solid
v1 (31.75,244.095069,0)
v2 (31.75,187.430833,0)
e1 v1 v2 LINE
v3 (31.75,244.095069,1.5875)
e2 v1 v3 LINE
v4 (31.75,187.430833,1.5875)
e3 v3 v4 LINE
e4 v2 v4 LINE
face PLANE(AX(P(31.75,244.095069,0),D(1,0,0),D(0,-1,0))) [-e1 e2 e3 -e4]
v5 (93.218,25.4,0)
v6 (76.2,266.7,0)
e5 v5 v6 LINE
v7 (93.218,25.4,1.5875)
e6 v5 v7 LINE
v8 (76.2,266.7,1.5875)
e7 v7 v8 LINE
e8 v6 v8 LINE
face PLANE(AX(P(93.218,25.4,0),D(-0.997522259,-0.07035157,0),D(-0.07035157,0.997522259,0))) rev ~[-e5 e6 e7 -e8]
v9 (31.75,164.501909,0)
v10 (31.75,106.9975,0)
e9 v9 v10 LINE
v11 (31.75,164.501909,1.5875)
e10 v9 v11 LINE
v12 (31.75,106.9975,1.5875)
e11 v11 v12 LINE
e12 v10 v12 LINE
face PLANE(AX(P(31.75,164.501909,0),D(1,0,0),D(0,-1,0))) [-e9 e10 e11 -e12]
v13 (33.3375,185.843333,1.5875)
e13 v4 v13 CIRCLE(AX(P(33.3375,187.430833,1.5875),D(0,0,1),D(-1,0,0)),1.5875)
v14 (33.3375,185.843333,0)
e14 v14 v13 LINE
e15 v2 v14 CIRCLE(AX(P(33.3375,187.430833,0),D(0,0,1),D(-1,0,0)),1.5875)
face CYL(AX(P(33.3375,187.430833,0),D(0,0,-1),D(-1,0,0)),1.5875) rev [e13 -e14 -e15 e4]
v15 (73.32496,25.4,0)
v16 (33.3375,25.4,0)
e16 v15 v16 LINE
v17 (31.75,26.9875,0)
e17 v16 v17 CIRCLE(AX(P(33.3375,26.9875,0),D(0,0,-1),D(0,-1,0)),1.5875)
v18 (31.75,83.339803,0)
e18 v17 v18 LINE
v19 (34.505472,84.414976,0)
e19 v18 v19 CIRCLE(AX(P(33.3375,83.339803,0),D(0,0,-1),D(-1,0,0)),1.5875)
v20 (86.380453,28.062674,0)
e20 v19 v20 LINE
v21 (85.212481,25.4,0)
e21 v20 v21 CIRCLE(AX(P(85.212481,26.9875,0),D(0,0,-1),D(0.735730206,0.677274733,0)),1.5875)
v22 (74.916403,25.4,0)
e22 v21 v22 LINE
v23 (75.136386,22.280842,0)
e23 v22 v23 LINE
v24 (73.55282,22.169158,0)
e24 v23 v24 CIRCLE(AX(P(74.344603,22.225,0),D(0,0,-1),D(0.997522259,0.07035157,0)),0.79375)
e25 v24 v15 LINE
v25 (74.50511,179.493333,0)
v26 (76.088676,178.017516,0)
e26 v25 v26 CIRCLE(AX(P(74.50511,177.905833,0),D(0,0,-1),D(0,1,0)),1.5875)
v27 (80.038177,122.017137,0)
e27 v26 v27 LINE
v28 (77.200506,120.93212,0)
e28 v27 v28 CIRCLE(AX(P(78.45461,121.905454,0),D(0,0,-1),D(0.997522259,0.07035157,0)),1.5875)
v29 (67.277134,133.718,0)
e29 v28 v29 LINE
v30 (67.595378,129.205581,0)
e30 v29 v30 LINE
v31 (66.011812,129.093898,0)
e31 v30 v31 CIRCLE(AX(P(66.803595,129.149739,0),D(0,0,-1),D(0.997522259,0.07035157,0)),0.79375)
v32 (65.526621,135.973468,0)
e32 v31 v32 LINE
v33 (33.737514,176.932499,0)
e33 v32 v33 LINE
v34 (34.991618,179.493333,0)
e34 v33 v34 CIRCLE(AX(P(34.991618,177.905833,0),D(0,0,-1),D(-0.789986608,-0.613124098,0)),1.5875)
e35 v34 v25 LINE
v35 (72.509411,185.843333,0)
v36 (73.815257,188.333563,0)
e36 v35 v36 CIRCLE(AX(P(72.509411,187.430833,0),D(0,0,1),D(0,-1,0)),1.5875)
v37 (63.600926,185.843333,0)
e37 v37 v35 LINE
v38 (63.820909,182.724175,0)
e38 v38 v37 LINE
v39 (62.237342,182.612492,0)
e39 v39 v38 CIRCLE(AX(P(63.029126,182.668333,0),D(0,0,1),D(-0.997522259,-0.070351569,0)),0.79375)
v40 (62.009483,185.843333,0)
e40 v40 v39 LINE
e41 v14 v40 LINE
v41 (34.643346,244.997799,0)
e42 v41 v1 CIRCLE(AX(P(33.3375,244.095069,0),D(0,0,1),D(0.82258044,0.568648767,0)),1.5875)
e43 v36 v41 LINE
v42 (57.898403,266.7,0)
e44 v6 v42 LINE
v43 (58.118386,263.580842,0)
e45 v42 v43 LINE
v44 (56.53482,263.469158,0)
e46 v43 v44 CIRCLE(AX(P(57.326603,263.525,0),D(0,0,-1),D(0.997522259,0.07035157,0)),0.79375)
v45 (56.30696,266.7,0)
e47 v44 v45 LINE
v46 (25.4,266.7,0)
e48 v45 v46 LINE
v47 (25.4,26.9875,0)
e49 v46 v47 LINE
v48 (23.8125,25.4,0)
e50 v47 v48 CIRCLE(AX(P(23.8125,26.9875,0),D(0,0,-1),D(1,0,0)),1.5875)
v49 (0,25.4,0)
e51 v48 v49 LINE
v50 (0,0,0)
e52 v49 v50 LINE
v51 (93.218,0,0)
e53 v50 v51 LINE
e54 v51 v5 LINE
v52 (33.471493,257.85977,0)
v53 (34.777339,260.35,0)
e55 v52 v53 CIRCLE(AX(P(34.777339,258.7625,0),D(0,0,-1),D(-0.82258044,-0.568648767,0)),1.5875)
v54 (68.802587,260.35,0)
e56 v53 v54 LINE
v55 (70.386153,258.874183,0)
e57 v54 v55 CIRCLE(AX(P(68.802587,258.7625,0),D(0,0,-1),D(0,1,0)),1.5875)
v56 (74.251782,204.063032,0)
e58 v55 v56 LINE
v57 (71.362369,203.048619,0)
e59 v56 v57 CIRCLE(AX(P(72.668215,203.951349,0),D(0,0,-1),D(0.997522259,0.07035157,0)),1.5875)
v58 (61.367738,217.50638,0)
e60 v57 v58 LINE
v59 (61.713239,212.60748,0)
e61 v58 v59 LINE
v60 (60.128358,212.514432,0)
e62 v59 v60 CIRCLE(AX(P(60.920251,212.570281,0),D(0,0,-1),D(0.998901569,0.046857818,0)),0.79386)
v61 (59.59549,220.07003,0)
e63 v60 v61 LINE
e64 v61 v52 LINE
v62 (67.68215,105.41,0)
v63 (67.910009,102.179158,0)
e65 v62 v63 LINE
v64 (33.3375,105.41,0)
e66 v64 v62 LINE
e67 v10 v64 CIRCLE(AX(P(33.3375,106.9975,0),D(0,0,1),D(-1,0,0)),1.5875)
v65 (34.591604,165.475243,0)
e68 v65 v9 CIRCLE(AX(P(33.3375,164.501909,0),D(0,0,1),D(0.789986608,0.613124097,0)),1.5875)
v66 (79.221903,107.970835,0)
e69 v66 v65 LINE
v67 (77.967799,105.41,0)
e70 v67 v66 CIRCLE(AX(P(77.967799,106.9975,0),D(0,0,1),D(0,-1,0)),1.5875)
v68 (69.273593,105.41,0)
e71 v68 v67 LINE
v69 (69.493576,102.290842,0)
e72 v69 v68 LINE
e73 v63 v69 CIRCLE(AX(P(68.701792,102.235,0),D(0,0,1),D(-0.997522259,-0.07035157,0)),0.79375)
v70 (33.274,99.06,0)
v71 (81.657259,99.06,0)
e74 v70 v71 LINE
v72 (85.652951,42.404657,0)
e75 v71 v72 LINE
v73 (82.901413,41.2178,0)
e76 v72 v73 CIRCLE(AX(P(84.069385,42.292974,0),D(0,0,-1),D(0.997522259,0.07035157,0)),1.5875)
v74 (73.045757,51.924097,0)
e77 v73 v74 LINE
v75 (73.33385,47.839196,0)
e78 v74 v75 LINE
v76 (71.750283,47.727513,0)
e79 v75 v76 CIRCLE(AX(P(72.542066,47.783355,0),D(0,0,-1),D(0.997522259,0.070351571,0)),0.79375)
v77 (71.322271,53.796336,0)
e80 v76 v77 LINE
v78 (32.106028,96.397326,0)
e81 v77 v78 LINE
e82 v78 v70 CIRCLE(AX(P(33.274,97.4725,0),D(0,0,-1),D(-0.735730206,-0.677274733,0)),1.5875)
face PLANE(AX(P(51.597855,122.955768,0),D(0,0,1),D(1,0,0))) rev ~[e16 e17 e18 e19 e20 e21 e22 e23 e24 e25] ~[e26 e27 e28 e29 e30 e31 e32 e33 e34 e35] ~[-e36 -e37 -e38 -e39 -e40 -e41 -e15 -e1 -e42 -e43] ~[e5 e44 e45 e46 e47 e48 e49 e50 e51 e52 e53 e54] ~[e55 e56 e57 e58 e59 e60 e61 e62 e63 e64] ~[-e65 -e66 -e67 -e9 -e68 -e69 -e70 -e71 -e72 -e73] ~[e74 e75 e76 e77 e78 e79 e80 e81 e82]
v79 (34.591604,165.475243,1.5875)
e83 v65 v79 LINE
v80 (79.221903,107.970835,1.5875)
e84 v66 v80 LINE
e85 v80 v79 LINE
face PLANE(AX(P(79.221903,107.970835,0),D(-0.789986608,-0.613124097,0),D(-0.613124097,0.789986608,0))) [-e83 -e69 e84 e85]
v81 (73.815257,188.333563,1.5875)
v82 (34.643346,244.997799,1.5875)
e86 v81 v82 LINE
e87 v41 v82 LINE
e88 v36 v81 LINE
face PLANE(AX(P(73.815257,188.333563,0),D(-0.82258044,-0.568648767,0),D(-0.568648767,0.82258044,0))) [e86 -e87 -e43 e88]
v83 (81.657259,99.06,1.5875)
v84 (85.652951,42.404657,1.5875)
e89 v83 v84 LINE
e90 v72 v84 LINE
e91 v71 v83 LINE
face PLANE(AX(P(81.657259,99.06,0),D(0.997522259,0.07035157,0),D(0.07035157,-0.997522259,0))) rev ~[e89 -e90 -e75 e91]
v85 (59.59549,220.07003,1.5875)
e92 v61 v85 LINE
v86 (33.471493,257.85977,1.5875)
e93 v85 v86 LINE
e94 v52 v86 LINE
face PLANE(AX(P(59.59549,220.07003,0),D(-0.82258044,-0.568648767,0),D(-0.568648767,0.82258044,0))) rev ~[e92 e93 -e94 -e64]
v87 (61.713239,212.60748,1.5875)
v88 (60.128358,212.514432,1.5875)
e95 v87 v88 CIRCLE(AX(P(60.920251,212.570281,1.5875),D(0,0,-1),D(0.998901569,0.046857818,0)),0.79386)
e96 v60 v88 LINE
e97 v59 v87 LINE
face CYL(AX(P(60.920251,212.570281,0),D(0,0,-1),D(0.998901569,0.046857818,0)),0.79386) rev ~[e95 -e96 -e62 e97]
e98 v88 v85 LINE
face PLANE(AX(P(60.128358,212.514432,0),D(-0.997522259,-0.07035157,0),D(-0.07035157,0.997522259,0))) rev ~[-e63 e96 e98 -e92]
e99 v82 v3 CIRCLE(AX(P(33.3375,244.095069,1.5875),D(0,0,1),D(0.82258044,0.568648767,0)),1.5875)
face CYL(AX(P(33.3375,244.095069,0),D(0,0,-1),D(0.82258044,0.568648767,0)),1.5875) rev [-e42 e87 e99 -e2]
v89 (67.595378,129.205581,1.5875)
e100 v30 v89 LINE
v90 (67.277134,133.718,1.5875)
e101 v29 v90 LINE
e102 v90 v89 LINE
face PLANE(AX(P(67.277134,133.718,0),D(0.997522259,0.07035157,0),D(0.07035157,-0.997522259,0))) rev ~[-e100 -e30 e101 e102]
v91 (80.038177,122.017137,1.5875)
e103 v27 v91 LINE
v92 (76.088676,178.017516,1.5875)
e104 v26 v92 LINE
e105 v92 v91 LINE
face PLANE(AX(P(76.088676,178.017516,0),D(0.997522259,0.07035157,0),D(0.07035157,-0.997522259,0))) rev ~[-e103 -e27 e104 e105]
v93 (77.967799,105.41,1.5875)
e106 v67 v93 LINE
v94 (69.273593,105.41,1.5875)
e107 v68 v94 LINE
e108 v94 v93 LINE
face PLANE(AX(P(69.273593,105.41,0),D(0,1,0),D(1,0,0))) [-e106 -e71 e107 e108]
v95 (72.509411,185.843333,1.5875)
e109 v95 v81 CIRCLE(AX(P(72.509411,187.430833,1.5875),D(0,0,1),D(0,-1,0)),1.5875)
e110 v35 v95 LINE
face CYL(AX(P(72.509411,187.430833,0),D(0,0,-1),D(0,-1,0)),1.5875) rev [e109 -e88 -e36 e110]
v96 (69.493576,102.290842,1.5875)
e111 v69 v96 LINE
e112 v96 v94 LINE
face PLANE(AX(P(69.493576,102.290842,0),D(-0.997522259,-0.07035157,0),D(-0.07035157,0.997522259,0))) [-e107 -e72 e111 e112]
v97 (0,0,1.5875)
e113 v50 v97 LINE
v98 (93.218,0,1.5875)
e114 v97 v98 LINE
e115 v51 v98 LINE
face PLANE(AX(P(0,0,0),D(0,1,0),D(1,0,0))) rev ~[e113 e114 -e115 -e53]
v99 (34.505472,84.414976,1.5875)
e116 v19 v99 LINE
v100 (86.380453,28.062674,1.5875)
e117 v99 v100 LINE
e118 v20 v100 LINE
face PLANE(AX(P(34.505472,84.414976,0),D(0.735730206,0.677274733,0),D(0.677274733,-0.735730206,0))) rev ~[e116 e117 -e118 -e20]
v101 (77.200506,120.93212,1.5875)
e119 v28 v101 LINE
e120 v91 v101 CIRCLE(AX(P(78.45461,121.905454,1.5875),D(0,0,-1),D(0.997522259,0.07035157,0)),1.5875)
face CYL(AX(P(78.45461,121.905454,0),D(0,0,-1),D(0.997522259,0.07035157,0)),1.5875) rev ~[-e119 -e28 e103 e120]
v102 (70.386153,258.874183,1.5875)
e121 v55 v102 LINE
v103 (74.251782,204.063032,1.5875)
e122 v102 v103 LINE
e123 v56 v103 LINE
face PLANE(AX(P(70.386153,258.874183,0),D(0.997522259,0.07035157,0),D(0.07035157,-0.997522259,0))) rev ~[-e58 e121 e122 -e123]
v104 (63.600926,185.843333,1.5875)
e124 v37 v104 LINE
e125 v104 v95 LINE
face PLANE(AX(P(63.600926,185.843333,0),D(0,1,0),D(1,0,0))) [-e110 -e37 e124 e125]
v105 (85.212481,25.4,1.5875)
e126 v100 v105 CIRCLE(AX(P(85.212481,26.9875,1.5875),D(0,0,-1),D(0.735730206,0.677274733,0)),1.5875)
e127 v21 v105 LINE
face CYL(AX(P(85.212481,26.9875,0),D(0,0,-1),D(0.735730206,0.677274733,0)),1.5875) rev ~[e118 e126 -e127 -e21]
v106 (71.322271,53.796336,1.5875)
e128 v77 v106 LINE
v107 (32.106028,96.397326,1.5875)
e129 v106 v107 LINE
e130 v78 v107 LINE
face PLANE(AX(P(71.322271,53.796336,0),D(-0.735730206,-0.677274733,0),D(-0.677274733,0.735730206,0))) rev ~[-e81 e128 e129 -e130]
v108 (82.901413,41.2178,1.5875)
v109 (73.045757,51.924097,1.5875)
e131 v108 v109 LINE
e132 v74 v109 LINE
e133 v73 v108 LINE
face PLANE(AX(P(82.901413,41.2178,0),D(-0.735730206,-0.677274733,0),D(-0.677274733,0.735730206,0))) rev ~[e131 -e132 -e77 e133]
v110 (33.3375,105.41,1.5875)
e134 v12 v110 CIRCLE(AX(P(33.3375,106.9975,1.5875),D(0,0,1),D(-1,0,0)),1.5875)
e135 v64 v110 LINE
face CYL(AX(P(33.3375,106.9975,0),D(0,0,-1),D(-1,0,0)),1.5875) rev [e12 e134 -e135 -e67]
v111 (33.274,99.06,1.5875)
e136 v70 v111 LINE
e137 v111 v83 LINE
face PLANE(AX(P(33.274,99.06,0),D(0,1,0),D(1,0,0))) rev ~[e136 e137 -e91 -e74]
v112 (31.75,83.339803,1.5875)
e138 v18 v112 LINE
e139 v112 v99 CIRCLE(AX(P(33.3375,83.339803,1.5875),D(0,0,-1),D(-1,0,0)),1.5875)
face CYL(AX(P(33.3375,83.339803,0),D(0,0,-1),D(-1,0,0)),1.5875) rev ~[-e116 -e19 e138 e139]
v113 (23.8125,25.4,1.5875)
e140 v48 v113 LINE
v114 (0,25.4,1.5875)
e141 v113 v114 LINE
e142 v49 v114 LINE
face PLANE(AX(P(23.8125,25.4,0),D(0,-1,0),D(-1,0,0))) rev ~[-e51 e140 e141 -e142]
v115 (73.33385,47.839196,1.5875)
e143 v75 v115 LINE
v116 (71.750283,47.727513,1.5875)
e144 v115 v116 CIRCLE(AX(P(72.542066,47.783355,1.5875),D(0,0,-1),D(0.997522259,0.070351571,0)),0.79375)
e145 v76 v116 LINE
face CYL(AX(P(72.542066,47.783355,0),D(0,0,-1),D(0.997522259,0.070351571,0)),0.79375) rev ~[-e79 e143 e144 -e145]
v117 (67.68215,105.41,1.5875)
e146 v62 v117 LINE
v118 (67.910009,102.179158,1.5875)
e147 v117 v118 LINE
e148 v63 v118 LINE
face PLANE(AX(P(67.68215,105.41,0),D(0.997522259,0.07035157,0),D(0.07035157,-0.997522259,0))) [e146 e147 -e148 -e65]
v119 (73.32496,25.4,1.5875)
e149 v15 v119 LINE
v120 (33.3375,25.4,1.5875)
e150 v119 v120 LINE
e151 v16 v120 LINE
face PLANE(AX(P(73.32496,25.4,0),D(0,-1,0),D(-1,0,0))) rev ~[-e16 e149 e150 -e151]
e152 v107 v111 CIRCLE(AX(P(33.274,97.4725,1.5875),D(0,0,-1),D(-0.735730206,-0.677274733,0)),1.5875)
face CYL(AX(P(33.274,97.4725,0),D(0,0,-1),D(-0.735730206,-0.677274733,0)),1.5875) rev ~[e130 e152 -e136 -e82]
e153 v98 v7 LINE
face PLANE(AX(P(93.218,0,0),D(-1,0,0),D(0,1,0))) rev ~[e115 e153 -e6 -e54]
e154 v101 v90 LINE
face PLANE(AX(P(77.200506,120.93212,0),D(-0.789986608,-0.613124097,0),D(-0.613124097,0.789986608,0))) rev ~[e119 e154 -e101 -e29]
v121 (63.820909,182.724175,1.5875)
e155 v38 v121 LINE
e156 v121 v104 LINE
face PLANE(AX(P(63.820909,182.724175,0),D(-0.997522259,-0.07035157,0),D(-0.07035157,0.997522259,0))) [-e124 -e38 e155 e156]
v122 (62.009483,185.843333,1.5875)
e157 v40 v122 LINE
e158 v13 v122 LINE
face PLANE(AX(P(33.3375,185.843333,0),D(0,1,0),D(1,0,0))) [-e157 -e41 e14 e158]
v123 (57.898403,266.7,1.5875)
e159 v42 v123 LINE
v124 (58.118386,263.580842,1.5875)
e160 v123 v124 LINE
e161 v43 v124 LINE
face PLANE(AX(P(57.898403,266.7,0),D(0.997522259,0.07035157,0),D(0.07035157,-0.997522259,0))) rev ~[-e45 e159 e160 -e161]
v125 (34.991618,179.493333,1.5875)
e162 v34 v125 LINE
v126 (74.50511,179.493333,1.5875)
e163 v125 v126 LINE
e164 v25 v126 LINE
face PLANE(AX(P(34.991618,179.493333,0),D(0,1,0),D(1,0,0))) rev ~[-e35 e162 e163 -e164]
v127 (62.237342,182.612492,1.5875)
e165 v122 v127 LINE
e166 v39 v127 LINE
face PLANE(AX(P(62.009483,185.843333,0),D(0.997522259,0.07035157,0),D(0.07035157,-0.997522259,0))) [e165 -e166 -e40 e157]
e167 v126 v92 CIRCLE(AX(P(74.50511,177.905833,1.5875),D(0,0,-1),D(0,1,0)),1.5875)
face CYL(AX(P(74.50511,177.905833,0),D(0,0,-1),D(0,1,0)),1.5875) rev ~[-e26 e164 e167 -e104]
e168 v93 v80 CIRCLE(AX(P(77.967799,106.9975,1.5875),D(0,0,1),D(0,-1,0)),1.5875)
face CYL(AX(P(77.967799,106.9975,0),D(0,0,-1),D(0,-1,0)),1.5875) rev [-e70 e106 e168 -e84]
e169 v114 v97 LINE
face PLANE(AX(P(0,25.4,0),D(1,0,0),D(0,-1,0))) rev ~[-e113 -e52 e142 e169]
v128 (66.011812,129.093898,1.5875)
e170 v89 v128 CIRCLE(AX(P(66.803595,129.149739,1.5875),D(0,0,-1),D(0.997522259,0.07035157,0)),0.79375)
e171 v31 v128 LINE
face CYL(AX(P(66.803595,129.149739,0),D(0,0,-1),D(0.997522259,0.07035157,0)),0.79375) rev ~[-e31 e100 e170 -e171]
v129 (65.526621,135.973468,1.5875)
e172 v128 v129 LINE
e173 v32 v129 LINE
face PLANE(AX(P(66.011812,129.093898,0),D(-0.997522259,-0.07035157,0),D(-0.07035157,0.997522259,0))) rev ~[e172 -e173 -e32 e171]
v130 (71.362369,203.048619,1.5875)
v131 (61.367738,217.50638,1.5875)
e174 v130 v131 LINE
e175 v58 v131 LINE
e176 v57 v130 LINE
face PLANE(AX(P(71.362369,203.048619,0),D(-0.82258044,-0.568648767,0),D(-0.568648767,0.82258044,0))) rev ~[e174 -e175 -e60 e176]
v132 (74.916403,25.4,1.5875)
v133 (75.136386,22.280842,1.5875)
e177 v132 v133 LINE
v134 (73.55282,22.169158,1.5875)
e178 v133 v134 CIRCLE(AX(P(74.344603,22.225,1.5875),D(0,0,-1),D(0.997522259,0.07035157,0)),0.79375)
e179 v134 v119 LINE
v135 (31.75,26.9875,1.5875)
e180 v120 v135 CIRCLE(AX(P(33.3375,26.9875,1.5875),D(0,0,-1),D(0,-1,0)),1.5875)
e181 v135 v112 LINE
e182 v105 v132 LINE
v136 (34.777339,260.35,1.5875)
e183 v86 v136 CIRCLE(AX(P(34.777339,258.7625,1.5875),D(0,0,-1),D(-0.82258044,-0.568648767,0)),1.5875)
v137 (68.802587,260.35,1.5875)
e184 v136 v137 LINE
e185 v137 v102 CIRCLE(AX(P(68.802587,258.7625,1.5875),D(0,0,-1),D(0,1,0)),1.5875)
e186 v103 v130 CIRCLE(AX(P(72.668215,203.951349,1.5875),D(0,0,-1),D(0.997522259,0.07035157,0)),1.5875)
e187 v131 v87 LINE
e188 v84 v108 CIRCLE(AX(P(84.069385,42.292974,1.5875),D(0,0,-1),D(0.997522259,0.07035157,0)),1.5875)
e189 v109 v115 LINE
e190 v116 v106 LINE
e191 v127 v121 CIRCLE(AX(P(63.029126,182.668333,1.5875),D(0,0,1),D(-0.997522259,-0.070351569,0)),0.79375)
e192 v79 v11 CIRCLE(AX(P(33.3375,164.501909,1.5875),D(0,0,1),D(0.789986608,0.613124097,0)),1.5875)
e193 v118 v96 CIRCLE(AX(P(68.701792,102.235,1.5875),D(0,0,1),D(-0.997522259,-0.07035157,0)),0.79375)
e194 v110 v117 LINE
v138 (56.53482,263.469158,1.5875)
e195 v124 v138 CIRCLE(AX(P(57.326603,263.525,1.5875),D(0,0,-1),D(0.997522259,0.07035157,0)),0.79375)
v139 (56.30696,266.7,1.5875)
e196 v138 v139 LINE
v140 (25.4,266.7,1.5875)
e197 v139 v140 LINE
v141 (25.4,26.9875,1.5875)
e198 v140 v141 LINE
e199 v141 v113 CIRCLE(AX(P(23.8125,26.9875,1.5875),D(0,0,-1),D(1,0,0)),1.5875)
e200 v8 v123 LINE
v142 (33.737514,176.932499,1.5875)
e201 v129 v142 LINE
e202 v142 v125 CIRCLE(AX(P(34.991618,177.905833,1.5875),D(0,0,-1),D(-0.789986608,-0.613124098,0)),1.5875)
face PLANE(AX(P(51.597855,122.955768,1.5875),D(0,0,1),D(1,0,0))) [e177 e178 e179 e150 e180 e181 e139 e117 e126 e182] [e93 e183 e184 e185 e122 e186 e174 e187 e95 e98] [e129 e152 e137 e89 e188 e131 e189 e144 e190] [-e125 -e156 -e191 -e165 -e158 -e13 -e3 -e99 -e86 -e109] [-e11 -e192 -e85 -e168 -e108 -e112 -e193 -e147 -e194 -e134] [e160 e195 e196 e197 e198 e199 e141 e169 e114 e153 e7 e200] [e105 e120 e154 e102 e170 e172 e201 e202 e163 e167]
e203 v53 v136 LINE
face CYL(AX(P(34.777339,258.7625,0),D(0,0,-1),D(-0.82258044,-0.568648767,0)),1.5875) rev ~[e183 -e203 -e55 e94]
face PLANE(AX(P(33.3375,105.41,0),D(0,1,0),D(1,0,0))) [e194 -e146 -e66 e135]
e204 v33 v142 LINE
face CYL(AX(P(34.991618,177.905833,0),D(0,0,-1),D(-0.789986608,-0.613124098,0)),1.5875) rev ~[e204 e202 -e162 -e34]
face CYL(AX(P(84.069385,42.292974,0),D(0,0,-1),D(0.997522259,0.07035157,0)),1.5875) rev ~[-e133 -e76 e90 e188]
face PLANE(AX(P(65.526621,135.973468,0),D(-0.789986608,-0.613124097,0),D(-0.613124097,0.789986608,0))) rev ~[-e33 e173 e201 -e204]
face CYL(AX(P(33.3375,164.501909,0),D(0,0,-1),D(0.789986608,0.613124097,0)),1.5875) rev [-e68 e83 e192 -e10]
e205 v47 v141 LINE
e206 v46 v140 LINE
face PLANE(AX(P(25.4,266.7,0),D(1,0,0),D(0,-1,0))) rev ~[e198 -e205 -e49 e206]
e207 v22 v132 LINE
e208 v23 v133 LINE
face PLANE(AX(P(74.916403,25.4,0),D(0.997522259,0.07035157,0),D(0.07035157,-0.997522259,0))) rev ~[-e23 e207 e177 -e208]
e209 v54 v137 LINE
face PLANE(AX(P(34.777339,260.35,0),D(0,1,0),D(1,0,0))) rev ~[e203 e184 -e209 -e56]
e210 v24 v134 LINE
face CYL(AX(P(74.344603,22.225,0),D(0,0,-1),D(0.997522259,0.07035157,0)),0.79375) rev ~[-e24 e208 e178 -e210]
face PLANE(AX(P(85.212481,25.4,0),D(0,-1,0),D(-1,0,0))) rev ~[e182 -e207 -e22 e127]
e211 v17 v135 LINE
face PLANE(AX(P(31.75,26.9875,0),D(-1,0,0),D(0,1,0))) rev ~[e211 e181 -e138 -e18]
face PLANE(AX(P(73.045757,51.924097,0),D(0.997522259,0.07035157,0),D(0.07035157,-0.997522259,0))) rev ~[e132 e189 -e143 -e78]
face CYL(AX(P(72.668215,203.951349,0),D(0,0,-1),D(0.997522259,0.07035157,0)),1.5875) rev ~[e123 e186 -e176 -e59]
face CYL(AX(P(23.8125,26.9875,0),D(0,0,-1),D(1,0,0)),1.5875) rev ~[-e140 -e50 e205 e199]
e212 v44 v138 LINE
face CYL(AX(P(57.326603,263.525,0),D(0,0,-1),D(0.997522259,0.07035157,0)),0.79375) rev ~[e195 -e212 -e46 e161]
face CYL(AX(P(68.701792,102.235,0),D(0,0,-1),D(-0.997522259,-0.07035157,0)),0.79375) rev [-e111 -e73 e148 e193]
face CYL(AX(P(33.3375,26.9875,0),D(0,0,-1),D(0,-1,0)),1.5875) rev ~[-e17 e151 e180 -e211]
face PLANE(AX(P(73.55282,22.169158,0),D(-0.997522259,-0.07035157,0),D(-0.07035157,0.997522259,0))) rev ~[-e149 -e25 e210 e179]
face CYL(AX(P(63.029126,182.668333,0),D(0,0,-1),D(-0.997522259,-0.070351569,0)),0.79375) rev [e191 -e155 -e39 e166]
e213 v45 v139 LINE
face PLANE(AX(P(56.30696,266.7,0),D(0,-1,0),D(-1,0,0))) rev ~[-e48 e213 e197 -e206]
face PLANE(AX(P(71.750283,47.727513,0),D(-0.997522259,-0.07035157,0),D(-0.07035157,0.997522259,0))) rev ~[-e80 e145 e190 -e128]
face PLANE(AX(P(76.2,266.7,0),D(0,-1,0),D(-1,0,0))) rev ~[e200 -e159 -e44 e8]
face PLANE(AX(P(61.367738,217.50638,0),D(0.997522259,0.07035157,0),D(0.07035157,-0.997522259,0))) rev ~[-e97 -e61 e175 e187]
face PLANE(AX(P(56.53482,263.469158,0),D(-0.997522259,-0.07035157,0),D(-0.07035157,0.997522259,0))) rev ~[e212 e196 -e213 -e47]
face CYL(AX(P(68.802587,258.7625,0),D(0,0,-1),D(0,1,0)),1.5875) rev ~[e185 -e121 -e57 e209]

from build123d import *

# Parameters (mm, degrees)
BOSS_EXTRUDE2_DEPTH = 1.5875


with BuildPart() as part:
    # Sketch2 → Boss-Extrude2 (new body)
    with BuildSketch(Plane.XY):
        with BuildLine():
            Line((0, 0), (22.726605384, 0))
            Line((22.726605384, 0), (25.4, 0))
            Line((25.4, 0), (93.218, 0))
            Line((93.218, 0), (93.218, 25.4))
            Line((93.218, 25.4), (76.2, 266.7))
            Line((76.2, 266.7), (57.898403378, 266.7))
            Line((57.898403378, 266.7), (58.118386132, 263.580841559))
            ThreePointArc((58.118386132, 263.580841559), (57.382444397, 262.733216707), (56.534819546, 263.469158441))
            Line((56.534819546, 263.469158441), (56.306960194, 266.7))
            Line((56.306960194, 266.7), (25.4, 266.7))
            Line((25.4, 266.7), (25.4, 26.9875))
            ThreePointArc((25.4, 26.9875), (24.935032015, 25.864967985), (23.8125, 25.4))
            Line((23.8125, 25.4), (0, 25.4))
            Line((0, 25.4), (0, 0))
        make_face()
        with BuildLine():
            Line((34.777339087, 260.35), (68.802586709, 260.35))
            ThreePointArc((68.802586709, 260.35), (69.884912746, 259.92384689), (70.386153295, 258.874183117))
            Line((70.386153295, 258.874183117), (74.25178186, 204.063031823))
            ThreePointArc((74.25178186, 204.063031823), (73.194086522, 202.453478324), (71.362368826, 203.048618789))
            Line((71.362368826, 203.048618789), (61.367737995, 217.506379541))
            Line((61.367737995, 217.506379541), (61.713239359, 212.607479611))
            ThreePointArc((61.713239359, 212.607479611), (60.966778576, 211.777785767), (60.128358495, 212.514431775))
            Line((60.128358495, 212.514431775), (59.595490006, 220.070029749))
            Line((59.595490006, 220.070029749), (33.471492639, 257.859770083))
            ThreePointArc((33.471492639, 257.859770083), (33.371415904, 259.499749112), (34.777339087, 260.35))
        make_face(mode=Mode.SUBTRACT)
        with BuildLine():
            Line((81.657258841, 99.06), (85.652951472, 42.404656719))
            ThreePointArc((85.652951472, 42.404656719), (84.6981432, 40.835297632), (82.901413184, 41.217799964))
            Line((82.901413184, 41.217799964), (73.045756556, 51.924096733))
            Line((73.045756556, 51.924096733), (73.333849522, 47.839196468))
            ThreePointArc((73.333849522, 47.839196468), (72.597907788, 46.991571616), (71.750282937, 47.727513351))
            Line((71.750282937, 47.727513351), (71.322271249, 53.796335779))
            Line((71.322271249, 53.796335779), (32.106028298, 96.397326362))
            ThreePointArc((32.106028298, 96.397326362), (31.820212808, 98.110198243), (33.274, 99.06))
            Line((33.274, 99.06), (81.657258841, 99.06))
        make_face(mode=Mode.SUBTRACT)
        with BuildLine():
            Line((31.75, 26.9875), (31.75, 83.339802581))
            ThreePointArc((31.75, 83.339802581), (32.76043797, 84.818706115), (34.505471702, 84.414976219))
            Line((34.505471702, 84.414976219), (86.380452981, 28.062673638))
            ThreePointArc((86.380452981, 28.062673638), (86.666268471, 26.349801757), (85.212481279, 25.4))
            Line((85.212481279, 25.4), (74.916403378, 25.4))
            Line((74.916403378, 25.4), (75.136386132, 22.280841559))
            ThreePointArc((75.136386132, 22.280841559), (74.400444397, 21.433216707), (73.552819546, 22.169158441))
            Line((73.552819546, 22.169158441), (73.324960194, 25.4))
            Line((73.324960194, 25.4), (33.3375, 25.4))
            ThreePointArc((33.3375, 25.4), (32.214967985, 25.864967985), (31.75, 26.9875))
        make_face(mode=Mode.SUBTRACT)
        with BuildLine():
            Line((79.221902862, 107.970834504), (34.591603741, 165.475243131))
            ThreePointArc((34.591603741, 165.475243131), (32.823074805, 166.003748488), (31.75, 164.501908627))
            Line((31.75, 164.501908627), (31.75, 106.9975))
            ThreePointArc((31.75, 106.9975), (32.214967985, 105.874967985), (33.3375, 105.41))
            Line((33.3375, 105.41), (67.682149668, 105.41))
            Line((67.682149668, 105.41), (67.91000902, 102.179158441))
            ThreePointArc((67.91000902, 102.179158441), (68.757633871, 101.443216707), (69.493575605, 102.290841559))
            Line((69.493575605, 102.290841559), (69.273592852, 105.41))
            Line((69.273592852, 105.41), (77.967799122, 105.41))
            ThreePointArc((77.967799122, 105.41), (79.393513815, 106.299292393), (79.221902862, 107.970834504))
        make_face(mode=Mode.SUBTRACT)
        with BuildLine():
            Line((34.991617614, 179.493333333), (74.505109516, 179.493333333))
            ThreePointArc((74.505109516, 179.493333333), (75.587435553, 179.067180223), (76.088676102, 178.01751645))
            Line((76.088676102, 178.01751645), (80.038176523, 122.017137338))
            ThreePointArc((80.038176523, 122.017137338), (79.021577531, 120.42265147), (77.200506197, 120.932119716))
            Line((77.200506197, 120.932119716), (67.277133916, 133.717999844))
            Line((67.277133916, 133.717999844), (67.59537819, 129.205581031))
            ThreePointArc((67.59537819, 129.205581031), (66.859436456, 128.357956179), (66.011811604, 129.093897913))
            Line((66.011811604, 129.093897913), (65.526620874, 135.973467973))
            Line((65.526620874, 135.973467973), (33.737513874, 176.932498829))
            ThreePointArc((33.737513874, 176.932498829), (33.56590292, 178.60404094), (34.991617614, 179.493333333))
        make_face(mode=Mode.SUBTRACT)
        with BuildLine():
            Line((73.81525743, 188.333563251), (34.643346448, 244.997798955))
            ThreePointArc((34.643346448, 244.997798955), (32.86467603, 245.610520701), (31.75, 244.095069038))
            Line((31.75, 244.095069038), (31.75, 187.430833333))
            ThreePointArc((31.75, 187.430833333), (32.214967985, 186.308301318), (33.3375, 185.843333333))
            Line((33.3375, 185.843333333), (62.009483001, 185.843333333))
            Line((62.009483001, 185.843333333), (62.237342353, 182.612491775))
            ThreePointArc((62.237342353, 182.612491775), (63.084967204, 181.87655004), (63.820908939, 182.724174892))
            Line((63.820908939, 182.724174892), (63.600926185, 185.843333333))
            Line((63.600926185, 185.843333333), (72.509410982, 185.843333333))
            ThreePointArc((72.509410982, 185.843333333), (73.915334165, 186.693584221), (73.81525743, 188.333563251))
        make_face(mode=Mode.SUBTRACT)
    extrude(amount=BOSS_EXTRUDE2_DEPTH)


solid = part.part
